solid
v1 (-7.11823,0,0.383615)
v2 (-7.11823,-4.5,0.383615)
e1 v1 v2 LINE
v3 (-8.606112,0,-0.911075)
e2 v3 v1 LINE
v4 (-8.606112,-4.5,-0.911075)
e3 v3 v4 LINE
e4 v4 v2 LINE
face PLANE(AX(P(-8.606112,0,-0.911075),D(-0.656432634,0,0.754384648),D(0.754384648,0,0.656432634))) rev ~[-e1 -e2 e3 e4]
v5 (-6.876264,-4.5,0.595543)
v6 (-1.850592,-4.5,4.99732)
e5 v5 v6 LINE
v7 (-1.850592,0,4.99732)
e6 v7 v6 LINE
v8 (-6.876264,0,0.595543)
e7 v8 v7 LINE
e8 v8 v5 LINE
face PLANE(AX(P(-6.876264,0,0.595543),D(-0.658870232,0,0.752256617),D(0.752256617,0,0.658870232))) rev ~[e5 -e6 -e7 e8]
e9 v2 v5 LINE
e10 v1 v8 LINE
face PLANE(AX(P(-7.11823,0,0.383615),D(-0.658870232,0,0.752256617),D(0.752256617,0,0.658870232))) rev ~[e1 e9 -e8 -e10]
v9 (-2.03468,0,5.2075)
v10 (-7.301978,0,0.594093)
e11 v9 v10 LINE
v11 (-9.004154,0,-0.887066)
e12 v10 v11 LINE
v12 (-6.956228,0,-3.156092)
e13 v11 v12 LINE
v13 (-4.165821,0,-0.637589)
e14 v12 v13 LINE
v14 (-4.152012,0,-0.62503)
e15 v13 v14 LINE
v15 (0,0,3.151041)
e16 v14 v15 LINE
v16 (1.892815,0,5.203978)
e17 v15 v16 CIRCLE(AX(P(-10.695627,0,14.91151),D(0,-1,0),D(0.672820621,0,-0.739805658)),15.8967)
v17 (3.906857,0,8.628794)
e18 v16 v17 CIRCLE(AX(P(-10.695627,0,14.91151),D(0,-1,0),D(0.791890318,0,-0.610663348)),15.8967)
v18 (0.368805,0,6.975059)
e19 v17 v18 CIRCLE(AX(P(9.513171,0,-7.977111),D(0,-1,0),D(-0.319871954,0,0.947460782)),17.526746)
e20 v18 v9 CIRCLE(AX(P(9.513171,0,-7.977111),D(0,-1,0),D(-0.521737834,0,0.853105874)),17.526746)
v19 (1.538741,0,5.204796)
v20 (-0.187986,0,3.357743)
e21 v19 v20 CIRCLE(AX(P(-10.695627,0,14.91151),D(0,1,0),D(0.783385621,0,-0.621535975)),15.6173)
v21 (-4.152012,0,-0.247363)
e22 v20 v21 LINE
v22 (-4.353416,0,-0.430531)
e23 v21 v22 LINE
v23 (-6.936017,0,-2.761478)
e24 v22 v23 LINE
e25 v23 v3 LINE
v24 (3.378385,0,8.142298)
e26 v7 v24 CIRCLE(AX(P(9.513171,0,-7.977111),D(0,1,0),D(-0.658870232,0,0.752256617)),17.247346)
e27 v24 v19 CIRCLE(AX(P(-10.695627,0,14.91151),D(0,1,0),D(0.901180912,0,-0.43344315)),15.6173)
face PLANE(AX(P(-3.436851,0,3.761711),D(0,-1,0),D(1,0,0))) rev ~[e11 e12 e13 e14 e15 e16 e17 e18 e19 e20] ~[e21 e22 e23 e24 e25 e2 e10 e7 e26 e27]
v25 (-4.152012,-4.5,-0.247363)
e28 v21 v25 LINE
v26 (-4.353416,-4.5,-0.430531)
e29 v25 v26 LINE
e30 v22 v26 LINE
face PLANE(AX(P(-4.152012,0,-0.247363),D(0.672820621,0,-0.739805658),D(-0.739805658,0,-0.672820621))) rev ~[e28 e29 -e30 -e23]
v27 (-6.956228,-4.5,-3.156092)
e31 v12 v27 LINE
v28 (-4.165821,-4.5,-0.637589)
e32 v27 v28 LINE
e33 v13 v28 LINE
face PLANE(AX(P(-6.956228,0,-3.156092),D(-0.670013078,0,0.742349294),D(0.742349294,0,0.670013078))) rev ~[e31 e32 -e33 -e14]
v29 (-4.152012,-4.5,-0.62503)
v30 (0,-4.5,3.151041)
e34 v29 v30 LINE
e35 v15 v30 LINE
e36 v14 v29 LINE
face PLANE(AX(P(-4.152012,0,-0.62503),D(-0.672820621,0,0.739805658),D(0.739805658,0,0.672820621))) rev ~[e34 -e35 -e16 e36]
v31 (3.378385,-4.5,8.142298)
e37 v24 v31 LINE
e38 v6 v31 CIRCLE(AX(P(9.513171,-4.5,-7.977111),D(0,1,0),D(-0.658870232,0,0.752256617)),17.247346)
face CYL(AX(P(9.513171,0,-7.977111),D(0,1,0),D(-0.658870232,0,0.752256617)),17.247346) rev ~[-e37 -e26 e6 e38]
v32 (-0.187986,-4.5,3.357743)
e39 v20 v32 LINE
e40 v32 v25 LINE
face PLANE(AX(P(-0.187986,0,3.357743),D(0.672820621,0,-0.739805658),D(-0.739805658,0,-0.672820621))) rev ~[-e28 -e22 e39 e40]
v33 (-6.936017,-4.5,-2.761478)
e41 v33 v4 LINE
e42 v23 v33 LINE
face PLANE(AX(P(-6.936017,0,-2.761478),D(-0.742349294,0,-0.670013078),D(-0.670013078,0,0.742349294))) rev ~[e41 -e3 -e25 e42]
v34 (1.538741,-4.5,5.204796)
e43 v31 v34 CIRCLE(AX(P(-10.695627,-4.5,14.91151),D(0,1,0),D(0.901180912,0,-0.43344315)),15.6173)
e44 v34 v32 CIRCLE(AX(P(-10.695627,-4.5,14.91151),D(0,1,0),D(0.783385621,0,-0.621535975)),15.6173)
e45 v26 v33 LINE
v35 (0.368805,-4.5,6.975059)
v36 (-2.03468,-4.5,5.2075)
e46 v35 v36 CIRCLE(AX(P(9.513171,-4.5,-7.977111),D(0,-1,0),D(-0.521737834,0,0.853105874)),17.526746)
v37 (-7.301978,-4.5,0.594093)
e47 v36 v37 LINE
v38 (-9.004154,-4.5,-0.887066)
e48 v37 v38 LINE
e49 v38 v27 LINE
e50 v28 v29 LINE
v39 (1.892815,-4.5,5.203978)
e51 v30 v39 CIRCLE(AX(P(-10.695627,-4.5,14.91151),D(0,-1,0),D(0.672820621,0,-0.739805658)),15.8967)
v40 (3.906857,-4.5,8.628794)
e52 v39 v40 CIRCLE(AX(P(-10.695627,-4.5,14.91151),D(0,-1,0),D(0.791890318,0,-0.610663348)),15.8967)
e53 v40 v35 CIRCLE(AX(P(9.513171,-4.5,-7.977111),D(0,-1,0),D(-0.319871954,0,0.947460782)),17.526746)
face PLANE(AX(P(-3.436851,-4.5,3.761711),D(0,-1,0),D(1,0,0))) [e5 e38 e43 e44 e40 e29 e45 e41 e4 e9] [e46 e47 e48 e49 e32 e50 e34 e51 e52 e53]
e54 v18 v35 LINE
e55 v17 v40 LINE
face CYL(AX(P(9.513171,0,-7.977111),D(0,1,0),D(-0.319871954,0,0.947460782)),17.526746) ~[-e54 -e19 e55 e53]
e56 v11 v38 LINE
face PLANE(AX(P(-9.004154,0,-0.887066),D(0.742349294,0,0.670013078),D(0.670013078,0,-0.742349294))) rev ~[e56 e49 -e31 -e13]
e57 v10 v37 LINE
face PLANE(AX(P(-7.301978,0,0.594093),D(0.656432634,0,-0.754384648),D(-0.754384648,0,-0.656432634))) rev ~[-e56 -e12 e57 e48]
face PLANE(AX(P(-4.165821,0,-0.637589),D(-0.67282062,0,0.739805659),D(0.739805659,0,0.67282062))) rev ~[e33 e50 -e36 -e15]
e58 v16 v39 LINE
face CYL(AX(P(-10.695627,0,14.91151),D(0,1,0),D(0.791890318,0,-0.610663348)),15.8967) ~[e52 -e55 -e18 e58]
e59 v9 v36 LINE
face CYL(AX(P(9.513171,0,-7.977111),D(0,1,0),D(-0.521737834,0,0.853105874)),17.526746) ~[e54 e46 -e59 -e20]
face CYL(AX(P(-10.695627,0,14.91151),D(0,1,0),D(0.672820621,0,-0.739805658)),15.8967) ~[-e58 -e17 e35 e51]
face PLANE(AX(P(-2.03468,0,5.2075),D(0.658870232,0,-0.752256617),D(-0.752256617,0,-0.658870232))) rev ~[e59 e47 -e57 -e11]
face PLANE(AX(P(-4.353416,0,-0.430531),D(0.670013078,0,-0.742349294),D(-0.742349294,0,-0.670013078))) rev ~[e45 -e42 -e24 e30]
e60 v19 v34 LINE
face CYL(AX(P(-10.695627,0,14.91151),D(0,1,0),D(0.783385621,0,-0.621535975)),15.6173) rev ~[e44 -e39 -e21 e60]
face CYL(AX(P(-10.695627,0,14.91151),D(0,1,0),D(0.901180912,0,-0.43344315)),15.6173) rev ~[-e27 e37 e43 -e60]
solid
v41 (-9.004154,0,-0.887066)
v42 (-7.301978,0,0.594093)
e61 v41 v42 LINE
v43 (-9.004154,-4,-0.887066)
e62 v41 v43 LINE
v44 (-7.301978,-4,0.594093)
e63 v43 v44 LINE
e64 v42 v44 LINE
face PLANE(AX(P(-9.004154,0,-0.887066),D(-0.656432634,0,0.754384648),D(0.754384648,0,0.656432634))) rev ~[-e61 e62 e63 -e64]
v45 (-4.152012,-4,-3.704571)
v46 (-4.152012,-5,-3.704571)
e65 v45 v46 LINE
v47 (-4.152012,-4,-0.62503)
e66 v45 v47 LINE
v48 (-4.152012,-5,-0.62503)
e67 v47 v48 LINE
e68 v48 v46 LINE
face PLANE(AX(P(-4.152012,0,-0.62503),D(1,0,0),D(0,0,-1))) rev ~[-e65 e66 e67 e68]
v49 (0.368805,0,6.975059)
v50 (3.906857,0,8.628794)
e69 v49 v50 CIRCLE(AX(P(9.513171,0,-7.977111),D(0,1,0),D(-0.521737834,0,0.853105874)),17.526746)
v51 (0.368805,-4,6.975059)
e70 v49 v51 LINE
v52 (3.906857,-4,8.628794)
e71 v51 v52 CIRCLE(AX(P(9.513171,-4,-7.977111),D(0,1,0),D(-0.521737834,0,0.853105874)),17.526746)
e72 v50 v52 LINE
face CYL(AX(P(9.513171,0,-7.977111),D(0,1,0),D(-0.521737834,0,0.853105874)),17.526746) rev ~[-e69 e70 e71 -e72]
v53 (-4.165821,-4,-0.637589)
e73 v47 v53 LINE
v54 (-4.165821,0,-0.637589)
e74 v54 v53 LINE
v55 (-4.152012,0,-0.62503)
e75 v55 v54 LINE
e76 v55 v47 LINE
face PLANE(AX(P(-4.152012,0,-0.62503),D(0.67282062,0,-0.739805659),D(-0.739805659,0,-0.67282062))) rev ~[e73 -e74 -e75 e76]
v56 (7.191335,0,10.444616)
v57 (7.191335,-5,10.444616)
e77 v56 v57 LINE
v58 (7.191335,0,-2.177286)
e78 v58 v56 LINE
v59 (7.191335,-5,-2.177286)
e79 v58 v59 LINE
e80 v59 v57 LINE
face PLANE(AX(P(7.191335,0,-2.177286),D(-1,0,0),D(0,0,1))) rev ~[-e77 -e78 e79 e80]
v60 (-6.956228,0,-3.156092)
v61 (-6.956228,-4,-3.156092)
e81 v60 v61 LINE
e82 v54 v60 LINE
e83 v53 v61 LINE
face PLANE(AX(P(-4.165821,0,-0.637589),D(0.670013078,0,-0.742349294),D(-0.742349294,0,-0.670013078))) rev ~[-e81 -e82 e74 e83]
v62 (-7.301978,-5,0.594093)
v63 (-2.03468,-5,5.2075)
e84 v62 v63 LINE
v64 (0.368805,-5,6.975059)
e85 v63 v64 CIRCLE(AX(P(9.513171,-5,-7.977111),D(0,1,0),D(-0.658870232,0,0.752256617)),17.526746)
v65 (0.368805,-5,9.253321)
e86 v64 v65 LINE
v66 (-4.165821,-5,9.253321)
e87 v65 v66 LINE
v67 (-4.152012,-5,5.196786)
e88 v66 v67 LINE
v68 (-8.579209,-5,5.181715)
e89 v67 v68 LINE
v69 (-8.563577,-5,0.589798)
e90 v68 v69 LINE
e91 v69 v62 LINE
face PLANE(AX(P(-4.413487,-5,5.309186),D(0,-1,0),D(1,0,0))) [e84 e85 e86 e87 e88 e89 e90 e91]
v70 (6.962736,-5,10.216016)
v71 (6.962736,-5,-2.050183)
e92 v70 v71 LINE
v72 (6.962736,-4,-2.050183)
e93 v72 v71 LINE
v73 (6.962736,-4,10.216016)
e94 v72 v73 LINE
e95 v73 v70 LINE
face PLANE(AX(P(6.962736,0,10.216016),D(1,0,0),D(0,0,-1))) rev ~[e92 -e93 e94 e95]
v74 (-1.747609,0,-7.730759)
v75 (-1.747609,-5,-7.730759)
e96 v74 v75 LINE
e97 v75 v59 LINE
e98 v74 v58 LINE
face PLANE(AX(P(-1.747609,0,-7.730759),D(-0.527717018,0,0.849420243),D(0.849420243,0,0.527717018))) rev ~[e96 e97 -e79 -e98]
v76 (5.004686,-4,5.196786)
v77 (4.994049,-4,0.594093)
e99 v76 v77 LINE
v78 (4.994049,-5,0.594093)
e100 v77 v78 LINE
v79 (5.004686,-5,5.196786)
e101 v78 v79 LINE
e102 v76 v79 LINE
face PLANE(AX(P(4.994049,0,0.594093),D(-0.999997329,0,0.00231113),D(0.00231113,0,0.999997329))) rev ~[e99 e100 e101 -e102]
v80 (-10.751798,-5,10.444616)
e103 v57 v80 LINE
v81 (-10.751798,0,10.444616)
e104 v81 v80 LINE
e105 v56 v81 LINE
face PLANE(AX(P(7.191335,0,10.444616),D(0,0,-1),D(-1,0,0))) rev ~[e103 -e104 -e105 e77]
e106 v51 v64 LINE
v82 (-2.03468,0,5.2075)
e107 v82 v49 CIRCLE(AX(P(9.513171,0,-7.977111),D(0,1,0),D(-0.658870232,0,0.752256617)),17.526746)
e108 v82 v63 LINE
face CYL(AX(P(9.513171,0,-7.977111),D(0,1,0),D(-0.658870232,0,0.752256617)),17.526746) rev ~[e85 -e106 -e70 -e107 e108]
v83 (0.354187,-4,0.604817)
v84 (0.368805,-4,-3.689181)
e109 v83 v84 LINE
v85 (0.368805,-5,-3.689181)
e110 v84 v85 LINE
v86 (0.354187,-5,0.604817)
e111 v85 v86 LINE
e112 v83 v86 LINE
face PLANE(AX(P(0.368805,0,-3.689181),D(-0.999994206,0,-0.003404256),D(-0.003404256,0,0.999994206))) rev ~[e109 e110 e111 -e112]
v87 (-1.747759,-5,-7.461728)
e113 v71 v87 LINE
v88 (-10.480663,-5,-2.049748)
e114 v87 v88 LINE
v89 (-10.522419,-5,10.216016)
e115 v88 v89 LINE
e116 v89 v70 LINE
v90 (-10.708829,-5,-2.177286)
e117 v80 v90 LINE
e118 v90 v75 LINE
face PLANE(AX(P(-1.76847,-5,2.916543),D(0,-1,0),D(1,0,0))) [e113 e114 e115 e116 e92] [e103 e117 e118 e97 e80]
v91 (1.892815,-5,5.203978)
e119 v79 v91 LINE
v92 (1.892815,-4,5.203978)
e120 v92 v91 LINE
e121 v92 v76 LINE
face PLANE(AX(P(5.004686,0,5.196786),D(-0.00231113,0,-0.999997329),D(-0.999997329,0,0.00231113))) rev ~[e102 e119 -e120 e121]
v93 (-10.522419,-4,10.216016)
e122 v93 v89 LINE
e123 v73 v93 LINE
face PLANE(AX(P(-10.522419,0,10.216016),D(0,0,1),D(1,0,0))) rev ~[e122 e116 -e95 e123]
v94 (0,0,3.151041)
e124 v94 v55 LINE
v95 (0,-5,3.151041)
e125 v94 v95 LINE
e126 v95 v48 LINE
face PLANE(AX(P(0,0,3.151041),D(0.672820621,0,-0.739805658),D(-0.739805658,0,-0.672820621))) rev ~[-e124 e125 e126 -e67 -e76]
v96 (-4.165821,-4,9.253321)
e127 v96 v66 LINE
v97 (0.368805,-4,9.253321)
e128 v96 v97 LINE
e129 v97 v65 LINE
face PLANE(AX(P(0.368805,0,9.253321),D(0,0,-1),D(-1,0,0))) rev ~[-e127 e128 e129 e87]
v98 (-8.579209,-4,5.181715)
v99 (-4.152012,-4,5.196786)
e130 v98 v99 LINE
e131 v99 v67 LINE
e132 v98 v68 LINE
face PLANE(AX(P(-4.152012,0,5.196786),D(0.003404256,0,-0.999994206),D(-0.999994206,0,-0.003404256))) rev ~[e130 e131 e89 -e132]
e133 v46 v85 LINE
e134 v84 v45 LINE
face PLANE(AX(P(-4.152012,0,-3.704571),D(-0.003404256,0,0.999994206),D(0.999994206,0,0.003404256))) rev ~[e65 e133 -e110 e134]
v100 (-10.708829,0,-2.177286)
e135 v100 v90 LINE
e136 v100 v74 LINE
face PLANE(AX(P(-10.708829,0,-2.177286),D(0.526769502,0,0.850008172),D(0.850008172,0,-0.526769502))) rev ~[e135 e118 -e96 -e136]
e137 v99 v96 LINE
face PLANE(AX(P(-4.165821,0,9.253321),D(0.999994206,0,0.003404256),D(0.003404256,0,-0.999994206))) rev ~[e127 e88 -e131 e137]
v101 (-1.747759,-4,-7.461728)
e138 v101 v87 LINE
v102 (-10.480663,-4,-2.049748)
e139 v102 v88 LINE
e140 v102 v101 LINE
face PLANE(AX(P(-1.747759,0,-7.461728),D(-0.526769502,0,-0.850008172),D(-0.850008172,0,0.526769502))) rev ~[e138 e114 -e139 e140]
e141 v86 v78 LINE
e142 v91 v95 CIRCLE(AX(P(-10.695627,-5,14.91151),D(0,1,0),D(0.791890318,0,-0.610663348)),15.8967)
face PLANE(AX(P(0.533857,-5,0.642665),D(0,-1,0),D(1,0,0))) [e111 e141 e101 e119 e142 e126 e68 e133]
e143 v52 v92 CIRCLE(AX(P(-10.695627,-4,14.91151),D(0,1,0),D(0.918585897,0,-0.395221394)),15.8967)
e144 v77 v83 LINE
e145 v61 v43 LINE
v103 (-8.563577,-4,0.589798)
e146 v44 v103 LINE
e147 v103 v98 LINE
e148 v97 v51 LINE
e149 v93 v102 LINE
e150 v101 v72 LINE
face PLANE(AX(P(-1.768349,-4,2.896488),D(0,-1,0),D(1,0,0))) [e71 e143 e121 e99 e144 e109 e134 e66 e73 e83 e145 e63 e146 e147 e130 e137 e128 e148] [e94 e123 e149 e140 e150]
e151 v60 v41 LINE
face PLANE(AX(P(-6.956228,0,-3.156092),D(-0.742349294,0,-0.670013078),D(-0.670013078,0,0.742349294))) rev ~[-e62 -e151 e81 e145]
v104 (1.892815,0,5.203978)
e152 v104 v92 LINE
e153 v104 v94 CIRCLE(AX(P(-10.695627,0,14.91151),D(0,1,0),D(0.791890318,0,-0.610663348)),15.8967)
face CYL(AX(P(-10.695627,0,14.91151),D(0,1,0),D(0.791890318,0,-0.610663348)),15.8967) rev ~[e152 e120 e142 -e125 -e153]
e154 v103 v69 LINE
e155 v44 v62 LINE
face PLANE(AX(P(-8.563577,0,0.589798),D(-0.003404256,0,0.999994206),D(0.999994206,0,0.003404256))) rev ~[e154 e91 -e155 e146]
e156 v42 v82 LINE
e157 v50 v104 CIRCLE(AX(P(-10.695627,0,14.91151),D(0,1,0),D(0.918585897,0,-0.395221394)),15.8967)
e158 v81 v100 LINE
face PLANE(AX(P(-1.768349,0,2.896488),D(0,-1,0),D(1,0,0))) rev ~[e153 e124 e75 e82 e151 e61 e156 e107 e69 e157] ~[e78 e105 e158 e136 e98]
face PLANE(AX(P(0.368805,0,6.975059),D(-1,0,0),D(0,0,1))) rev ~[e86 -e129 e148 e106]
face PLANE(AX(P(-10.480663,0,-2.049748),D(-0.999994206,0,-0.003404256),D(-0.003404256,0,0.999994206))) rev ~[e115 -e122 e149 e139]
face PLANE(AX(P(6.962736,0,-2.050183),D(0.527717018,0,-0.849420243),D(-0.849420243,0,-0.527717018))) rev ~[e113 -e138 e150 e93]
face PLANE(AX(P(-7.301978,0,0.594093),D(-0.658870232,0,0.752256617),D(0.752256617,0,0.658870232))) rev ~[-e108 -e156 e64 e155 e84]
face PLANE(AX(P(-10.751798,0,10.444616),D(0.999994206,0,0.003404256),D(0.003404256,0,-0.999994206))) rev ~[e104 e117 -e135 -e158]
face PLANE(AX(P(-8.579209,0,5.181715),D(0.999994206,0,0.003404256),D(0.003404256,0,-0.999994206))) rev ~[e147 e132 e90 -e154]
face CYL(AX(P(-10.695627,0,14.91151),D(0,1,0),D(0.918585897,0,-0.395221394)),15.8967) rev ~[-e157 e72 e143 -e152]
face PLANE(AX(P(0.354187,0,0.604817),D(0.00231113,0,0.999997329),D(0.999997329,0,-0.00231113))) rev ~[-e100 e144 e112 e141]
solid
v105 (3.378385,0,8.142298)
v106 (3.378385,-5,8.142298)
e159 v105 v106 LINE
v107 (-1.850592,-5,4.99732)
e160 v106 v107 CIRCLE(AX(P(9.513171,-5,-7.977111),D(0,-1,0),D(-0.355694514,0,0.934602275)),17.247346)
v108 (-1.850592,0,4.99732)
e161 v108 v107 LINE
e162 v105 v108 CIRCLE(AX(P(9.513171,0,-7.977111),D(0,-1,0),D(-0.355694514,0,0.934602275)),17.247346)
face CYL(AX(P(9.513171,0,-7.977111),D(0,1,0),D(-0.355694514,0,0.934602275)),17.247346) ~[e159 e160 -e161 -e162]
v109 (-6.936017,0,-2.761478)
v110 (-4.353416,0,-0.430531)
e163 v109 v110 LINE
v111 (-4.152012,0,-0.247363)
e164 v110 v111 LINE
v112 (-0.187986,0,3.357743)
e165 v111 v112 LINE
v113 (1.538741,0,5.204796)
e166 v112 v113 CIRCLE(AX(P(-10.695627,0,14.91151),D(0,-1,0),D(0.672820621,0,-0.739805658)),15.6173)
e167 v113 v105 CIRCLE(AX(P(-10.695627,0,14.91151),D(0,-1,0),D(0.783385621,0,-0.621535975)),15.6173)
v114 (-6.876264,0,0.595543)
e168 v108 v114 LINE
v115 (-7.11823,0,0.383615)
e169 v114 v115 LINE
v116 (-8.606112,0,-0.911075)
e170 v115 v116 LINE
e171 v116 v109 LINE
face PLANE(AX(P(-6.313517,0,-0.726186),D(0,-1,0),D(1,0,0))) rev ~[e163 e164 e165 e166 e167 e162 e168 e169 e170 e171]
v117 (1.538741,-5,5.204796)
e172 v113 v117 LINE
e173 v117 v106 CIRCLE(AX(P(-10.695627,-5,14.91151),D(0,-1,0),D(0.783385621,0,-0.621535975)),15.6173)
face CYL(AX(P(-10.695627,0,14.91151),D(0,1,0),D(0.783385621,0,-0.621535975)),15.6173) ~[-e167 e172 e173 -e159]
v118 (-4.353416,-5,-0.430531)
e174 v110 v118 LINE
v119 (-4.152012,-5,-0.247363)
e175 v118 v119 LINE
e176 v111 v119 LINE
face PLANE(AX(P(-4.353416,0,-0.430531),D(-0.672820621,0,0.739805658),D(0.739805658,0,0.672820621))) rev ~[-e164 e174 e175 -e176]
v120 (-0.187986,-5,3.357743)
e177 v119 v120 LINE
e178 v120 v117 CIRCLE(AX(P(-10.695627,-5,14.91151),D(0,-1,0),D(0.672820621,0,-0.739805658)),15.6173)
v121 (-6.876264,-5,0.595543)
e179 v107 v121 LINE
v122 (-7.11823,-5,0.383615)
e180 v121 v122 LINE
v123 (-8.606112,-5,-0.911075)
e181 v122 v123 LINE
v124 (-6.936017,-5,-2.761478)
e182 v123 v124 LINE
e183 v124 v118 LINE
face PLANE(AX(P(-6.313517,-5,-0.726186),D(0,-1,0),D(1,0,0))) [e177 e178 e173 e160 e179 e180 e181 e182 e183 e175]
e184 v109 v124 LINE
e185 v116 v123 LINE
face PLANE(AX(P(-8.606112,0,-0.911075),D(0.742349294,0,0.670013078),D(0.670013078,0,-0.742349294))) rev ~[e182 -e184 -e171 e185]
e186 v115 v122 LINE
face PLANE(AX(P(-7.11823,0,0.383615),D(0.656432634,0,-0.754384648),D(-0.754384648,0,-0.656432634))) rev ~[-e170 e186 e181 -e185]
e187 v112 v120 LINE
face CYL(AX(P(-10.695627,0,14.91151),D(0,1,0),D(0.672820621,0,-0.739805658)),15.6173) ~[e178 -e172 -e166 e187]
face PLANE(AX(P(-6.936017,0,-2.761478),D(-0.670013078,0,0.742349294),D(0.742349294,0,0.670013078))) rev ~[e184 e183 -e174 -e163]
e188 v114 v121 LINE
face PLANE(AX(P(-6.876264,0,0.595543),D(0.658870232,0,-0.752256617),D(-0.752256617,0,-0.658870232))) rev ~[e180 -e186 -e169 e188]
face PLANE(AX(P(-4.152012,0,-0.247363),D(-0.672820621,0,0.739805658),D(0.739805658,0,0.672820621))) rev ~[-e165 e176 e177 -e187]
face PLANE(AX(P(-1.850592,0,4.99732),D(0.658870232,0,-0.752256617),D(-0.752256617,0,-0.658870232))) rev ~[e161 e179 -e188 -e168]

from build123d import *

# Parameters (mm, degrees)
F1_DEPTH = 5
F2_DEPTH = 4
F3_DEPTH = 5
F4_DEPTH = 5
F5_DEPTH = 4.5


with BuildPart() as f1:
    # F0 (on Front) → F1 (new body)
    with BuildSketch(Plane.XZ):
        Polygon((7.1913353167, 10.4446159676), (-10.7517978176, 10.4446159676), (-10.708829388, -2.177285729), (-1.7476085341, -7.7307592146), (7.1913353167, -2.177285729), align=None)
        Polygon((-10.4806626656, -2.0497477769), (-10.522418705, 10.2160163954), (6.9627357446, 10.2160163954), (6.9627357446, -2.0501829333), (-1.7477585324, -7.4617281697), align=None, mode=Mode.SUBTRACT)
    extrude(amount=F1_DEPTH)

    # F0 (on Front) → F2 (join)
    with BuildSketch(Plane.XZ):
        Polygon((6.9627357446, 10.2160163954), (-10.522418705, 10.2160163954), (-10.4806626656, -2.0497477769), (-1.7477585324, -7.4617281697), (6.9627357446, -2.0501829333), align=None)
        with BuildLine():
            Line((-4.15201168, 5.1967860028), (-4.1658212431, 9.2533212155))
            Line((-4.1658212431, 9.2533212155), (0.368804739, 9.2533212155))
            Line((0.368804739, 9.2533212155), (0.368804739, 6.9750594877))
            ThreePointArc((0.368804739, 6.9750594877), (2.0916244454, 7.900781968), (3.9068567567, 8.6287939921))
            ThreePointArc((3.9068567567, 8.6287939921), (3.007254254, 6.8532161956), (1.892815194, 5.2039779605))
            Line((1.892815194, 5.2039779605), (5.0046861868, 5.1967860028))
            Line((5.0046861868, 5.1967860028), (4.994048737, 0.5940932573))
            Line((4.994048737, 0.5940932573), (0.3541867875, 0.6048166102))
            Line((0.3541867875, 0.6048166102), (0.368804739, -3.6891812938))
            Line((0.368804739, -3.6891812938), (-4.15201168, -3.704571398))
            Line((-4.15201168, -3.704571398), (-4.15201168, -0.6250300701))
            Line((-4.15201168, -0.6250300701), (-4.1658212431, -0.6375892587))
            Line((-4.1658212431, -0.6375892587), (-6.9562275894, -3.1560920179))
            Line((-6.9562275894, -3.1560920179), (-9.0041542426, -0.8870663005))
            Line((-9.0041542426, -0.8870663005), (-7.3019780045, 0.5940932573))
            Line((-7.3019780045, 0.5940932573), (-8.5635768523, 0.5897984274))
            Line((-8.5635768523, 0.5897984274), (-8.5792089996, 5.1817146038))
            Line((-8.5792089996, 5.1817146038), (-4.15201168, 5.1967860028))
        make_face(mode=Mode.SUBTRACT)
    extrude(amount=F2_DEPTH)

    # F0 (on Front) → F3 (join)
    with BuildSketch(Plane.XZ):
        with BuildLine():
            Line((0.368804739, 9.2533212155), (-4.1658212431, 9.2533212155))
            Line((-4.1658212431, 9.2533212155), (-4.15201168, 5.1967860028))
            Line((-4.15201168, 5.1967860028), (-8.5792089996, 5.1817146038))
            Line((-8.5792089996, 5.1817146038), (-8.5635768523, 0.5897984274))
            Line((-8.5635768523, 0.5897984274), (-7.3019780045, 0.5940932573))
            Line((-7.3019780045, 0.5940932573), (-2.0346799865, 5.2075001563))
            ThreePointArc((-2.0346799865, 5.2075001563), (-0.8706158878, 6.1425138205), (0.368804739, 6.9750594877))
            Line((0.368804739, 6.9750594877), (0.368804739, 9.2533212155))
        make_face()
        with BuildLine():
            Line((5.0046861868, 5.1967860028), (1.892815194, 5.2039779605))
            ThreePointArc((1.892815194, 5.2039779605), (0.991571407, 4.1358685051), (0, 3.1510414556))
            Line((0, 3.1510414556), (-4.15201168, -0.6250300701))
            Line((-4.15201168, -0.6250300701), (-4.15201168, -3.704571398))
            Line((-4.15201168, -3.704571398), (0.368804739, -3.6891812938))
            Line((0.368804739, -3.6891812938), (0.3541867875, 0.6048166102))
            Line((0.3541867875, 0.6048166102), (4.994048737, 0.5940932573))
            Line((4.994048737, 0.5940932573), (5.0046861868, 5.1967860028))
        make_face()
    extrude(amount=F3_DEPTH)


with BuildPart() as f4:
    # F0 (on Front) → F4 (new body)
    with BuildSketch(Plane.XZ):
        Polygon((-4.15201168, 0.6048166102), (-6.8762639991, 0.5955425051), (-7.1182296611, 0.383614862), (-8.6061118716, -0.911075375), (-6.9360168449, -2.761477859), (-4.3534158373, -0.4305314102), (-4.15201168, -0.2473632108), align=None)
        with BuildLine():
            Line((0.368804739, 5.2075001563), (0.368804739, 6.6465519446))
            ThreePointArc((0.368804739, 6.6465519446), (-0.7739971756, 5.8664839757), (-1.8505915915, 4.9973195979))
            Line((-1.8505915915, 4.9973195979), (-6.8762639991, 0.5955425051))
            Line((-6.8762639991, 0.5955425051), (-4.15201168, 0.6048166102))
            Line((-4.15201168, 0.6048166102), (-4.15201168, -0.2473632108))
            Line((-4.15201168, -0.2473632108), (-0.187986135, 3.357743215))
            ThreePointArc((-0.187986135, 3.357743215), (0.71281892, 4.2462671905), (1.5387405847, 5.2047962752))
            Line((1.5387405847, 5.2047962752), (0.368804739, 5.2075001563))
        make_face()
        with BuildLine():
            ThreePointArc((3.3783849165, 8.1422982604), (1.8370757471, 7.4679048765), (0.368804739, 6.6465519446))
            Line((0.368804739, 6.6465519446), (0.368804739, 5.2075001563))
            Line((0.368804739, 5.2075001563), (1.5387405847, 5.2047962752))
            ThreePointArc((1.5387405847, 5.2047962752), (2.5403065683, 6.6223542638), (3.3783849165, 8.1422982604))
        make_face()
    extrude(amount=F4_DEPTH)


with BuildPart() as f5:
    # F0 (on Front) → F5 (new body)
    with BuildSketch(Plane.XZ):
        with BuildLine():
            Line((0.368804739, 6.6465519446), (0.368804739, 6.9750594877))
            ThreePointArc((0.368804739, 6.9750594877), (-0.8706158878, 6.1425138205), (-2.0346799865, 5.2075001563))
            Line((-2.0346799865, 5.2075001563), (-7.3019780045, 0.5940932573))
            Line((-7.3019780045, 0.5940932573), (-6.8762639991, 0.5955425051))
            Line((-6.8762639991, 0.5955425051), (-1.8505915915, 4.9973195979))
            ThreePointArc((-1.8505915915, 4.9973195979), (-0.7739971756, 5.8664839757), (0.368804739, 6.6465519446))
        make_face()
        Polygon((-6.8762639991, 0.5955425051), (-7.3019780045, 0.5940932573), (-9.0041542426, -0.8870663005), (-6.9562275894, -3.1560920179), (-4.1658212431, -0.6375892587), (-4.15201168, -0.6250300701), (-4.15201168, -0.2473632108), (-4.3534158373, -0.4305314102), (-6.9360168449, -2.761477859), (-8.6061118716, -0.911075375), (-7.1182296611, 0.383614862), align=None)
        with BuildLine():
            ThreePointArc((0, 3.1510414556), (0.991571407, 4.1358685051), (1.892815194, 5.2039779605))
            Line((1.892815194, 5.2039779605), (1.5387405847, 5.2047962752))
            ThreePointArc((1.5387405847, 5.2047962752), (0.71281892, 4.2462671905), (-0.187986135, 3.357743215))
            Line((-0.187986135, 3.357743215), (-4.15201168, -0.2473632108))
            Line((-4.15201168, -0.2473632108), (-4.15201168, -0.6250300701))
            Line((-4.15201168, -0.6250300701), (0, 3.1510414556))
        make_face()
        with BuildLine():
            ThreePointArc((3.9068567567, 8.6287939921), (2.0916244454, 7.900781968), (0.368804739, 6.9750594877))
            Line((0.368804739, 6.9750594877), (0.368804739, 6.6465519446))
            ThreePointArc((0.368804739, 6.6465519446), (1.8370757471, 7.4679048765), (3.3783849165, 8.1422982604))
            ThreePointArc((3.3783849165, 8.1422982604), (2.5403065683, 6.6223542638), (1.5387405847, 5.2047962752))
            Line((1.5387405847, 5.2047962752), (1.892815194, 5.2039779605))
            ThreePointArc((1.892815194, 5.2039779605), (3.007254254, 6.8532161956), (3.9068567567, 8.6287939921))
        make_face()
    extrude(amount=F5_DEPTH)


solid = Compound([f1.part, f4.part, f5.part])
